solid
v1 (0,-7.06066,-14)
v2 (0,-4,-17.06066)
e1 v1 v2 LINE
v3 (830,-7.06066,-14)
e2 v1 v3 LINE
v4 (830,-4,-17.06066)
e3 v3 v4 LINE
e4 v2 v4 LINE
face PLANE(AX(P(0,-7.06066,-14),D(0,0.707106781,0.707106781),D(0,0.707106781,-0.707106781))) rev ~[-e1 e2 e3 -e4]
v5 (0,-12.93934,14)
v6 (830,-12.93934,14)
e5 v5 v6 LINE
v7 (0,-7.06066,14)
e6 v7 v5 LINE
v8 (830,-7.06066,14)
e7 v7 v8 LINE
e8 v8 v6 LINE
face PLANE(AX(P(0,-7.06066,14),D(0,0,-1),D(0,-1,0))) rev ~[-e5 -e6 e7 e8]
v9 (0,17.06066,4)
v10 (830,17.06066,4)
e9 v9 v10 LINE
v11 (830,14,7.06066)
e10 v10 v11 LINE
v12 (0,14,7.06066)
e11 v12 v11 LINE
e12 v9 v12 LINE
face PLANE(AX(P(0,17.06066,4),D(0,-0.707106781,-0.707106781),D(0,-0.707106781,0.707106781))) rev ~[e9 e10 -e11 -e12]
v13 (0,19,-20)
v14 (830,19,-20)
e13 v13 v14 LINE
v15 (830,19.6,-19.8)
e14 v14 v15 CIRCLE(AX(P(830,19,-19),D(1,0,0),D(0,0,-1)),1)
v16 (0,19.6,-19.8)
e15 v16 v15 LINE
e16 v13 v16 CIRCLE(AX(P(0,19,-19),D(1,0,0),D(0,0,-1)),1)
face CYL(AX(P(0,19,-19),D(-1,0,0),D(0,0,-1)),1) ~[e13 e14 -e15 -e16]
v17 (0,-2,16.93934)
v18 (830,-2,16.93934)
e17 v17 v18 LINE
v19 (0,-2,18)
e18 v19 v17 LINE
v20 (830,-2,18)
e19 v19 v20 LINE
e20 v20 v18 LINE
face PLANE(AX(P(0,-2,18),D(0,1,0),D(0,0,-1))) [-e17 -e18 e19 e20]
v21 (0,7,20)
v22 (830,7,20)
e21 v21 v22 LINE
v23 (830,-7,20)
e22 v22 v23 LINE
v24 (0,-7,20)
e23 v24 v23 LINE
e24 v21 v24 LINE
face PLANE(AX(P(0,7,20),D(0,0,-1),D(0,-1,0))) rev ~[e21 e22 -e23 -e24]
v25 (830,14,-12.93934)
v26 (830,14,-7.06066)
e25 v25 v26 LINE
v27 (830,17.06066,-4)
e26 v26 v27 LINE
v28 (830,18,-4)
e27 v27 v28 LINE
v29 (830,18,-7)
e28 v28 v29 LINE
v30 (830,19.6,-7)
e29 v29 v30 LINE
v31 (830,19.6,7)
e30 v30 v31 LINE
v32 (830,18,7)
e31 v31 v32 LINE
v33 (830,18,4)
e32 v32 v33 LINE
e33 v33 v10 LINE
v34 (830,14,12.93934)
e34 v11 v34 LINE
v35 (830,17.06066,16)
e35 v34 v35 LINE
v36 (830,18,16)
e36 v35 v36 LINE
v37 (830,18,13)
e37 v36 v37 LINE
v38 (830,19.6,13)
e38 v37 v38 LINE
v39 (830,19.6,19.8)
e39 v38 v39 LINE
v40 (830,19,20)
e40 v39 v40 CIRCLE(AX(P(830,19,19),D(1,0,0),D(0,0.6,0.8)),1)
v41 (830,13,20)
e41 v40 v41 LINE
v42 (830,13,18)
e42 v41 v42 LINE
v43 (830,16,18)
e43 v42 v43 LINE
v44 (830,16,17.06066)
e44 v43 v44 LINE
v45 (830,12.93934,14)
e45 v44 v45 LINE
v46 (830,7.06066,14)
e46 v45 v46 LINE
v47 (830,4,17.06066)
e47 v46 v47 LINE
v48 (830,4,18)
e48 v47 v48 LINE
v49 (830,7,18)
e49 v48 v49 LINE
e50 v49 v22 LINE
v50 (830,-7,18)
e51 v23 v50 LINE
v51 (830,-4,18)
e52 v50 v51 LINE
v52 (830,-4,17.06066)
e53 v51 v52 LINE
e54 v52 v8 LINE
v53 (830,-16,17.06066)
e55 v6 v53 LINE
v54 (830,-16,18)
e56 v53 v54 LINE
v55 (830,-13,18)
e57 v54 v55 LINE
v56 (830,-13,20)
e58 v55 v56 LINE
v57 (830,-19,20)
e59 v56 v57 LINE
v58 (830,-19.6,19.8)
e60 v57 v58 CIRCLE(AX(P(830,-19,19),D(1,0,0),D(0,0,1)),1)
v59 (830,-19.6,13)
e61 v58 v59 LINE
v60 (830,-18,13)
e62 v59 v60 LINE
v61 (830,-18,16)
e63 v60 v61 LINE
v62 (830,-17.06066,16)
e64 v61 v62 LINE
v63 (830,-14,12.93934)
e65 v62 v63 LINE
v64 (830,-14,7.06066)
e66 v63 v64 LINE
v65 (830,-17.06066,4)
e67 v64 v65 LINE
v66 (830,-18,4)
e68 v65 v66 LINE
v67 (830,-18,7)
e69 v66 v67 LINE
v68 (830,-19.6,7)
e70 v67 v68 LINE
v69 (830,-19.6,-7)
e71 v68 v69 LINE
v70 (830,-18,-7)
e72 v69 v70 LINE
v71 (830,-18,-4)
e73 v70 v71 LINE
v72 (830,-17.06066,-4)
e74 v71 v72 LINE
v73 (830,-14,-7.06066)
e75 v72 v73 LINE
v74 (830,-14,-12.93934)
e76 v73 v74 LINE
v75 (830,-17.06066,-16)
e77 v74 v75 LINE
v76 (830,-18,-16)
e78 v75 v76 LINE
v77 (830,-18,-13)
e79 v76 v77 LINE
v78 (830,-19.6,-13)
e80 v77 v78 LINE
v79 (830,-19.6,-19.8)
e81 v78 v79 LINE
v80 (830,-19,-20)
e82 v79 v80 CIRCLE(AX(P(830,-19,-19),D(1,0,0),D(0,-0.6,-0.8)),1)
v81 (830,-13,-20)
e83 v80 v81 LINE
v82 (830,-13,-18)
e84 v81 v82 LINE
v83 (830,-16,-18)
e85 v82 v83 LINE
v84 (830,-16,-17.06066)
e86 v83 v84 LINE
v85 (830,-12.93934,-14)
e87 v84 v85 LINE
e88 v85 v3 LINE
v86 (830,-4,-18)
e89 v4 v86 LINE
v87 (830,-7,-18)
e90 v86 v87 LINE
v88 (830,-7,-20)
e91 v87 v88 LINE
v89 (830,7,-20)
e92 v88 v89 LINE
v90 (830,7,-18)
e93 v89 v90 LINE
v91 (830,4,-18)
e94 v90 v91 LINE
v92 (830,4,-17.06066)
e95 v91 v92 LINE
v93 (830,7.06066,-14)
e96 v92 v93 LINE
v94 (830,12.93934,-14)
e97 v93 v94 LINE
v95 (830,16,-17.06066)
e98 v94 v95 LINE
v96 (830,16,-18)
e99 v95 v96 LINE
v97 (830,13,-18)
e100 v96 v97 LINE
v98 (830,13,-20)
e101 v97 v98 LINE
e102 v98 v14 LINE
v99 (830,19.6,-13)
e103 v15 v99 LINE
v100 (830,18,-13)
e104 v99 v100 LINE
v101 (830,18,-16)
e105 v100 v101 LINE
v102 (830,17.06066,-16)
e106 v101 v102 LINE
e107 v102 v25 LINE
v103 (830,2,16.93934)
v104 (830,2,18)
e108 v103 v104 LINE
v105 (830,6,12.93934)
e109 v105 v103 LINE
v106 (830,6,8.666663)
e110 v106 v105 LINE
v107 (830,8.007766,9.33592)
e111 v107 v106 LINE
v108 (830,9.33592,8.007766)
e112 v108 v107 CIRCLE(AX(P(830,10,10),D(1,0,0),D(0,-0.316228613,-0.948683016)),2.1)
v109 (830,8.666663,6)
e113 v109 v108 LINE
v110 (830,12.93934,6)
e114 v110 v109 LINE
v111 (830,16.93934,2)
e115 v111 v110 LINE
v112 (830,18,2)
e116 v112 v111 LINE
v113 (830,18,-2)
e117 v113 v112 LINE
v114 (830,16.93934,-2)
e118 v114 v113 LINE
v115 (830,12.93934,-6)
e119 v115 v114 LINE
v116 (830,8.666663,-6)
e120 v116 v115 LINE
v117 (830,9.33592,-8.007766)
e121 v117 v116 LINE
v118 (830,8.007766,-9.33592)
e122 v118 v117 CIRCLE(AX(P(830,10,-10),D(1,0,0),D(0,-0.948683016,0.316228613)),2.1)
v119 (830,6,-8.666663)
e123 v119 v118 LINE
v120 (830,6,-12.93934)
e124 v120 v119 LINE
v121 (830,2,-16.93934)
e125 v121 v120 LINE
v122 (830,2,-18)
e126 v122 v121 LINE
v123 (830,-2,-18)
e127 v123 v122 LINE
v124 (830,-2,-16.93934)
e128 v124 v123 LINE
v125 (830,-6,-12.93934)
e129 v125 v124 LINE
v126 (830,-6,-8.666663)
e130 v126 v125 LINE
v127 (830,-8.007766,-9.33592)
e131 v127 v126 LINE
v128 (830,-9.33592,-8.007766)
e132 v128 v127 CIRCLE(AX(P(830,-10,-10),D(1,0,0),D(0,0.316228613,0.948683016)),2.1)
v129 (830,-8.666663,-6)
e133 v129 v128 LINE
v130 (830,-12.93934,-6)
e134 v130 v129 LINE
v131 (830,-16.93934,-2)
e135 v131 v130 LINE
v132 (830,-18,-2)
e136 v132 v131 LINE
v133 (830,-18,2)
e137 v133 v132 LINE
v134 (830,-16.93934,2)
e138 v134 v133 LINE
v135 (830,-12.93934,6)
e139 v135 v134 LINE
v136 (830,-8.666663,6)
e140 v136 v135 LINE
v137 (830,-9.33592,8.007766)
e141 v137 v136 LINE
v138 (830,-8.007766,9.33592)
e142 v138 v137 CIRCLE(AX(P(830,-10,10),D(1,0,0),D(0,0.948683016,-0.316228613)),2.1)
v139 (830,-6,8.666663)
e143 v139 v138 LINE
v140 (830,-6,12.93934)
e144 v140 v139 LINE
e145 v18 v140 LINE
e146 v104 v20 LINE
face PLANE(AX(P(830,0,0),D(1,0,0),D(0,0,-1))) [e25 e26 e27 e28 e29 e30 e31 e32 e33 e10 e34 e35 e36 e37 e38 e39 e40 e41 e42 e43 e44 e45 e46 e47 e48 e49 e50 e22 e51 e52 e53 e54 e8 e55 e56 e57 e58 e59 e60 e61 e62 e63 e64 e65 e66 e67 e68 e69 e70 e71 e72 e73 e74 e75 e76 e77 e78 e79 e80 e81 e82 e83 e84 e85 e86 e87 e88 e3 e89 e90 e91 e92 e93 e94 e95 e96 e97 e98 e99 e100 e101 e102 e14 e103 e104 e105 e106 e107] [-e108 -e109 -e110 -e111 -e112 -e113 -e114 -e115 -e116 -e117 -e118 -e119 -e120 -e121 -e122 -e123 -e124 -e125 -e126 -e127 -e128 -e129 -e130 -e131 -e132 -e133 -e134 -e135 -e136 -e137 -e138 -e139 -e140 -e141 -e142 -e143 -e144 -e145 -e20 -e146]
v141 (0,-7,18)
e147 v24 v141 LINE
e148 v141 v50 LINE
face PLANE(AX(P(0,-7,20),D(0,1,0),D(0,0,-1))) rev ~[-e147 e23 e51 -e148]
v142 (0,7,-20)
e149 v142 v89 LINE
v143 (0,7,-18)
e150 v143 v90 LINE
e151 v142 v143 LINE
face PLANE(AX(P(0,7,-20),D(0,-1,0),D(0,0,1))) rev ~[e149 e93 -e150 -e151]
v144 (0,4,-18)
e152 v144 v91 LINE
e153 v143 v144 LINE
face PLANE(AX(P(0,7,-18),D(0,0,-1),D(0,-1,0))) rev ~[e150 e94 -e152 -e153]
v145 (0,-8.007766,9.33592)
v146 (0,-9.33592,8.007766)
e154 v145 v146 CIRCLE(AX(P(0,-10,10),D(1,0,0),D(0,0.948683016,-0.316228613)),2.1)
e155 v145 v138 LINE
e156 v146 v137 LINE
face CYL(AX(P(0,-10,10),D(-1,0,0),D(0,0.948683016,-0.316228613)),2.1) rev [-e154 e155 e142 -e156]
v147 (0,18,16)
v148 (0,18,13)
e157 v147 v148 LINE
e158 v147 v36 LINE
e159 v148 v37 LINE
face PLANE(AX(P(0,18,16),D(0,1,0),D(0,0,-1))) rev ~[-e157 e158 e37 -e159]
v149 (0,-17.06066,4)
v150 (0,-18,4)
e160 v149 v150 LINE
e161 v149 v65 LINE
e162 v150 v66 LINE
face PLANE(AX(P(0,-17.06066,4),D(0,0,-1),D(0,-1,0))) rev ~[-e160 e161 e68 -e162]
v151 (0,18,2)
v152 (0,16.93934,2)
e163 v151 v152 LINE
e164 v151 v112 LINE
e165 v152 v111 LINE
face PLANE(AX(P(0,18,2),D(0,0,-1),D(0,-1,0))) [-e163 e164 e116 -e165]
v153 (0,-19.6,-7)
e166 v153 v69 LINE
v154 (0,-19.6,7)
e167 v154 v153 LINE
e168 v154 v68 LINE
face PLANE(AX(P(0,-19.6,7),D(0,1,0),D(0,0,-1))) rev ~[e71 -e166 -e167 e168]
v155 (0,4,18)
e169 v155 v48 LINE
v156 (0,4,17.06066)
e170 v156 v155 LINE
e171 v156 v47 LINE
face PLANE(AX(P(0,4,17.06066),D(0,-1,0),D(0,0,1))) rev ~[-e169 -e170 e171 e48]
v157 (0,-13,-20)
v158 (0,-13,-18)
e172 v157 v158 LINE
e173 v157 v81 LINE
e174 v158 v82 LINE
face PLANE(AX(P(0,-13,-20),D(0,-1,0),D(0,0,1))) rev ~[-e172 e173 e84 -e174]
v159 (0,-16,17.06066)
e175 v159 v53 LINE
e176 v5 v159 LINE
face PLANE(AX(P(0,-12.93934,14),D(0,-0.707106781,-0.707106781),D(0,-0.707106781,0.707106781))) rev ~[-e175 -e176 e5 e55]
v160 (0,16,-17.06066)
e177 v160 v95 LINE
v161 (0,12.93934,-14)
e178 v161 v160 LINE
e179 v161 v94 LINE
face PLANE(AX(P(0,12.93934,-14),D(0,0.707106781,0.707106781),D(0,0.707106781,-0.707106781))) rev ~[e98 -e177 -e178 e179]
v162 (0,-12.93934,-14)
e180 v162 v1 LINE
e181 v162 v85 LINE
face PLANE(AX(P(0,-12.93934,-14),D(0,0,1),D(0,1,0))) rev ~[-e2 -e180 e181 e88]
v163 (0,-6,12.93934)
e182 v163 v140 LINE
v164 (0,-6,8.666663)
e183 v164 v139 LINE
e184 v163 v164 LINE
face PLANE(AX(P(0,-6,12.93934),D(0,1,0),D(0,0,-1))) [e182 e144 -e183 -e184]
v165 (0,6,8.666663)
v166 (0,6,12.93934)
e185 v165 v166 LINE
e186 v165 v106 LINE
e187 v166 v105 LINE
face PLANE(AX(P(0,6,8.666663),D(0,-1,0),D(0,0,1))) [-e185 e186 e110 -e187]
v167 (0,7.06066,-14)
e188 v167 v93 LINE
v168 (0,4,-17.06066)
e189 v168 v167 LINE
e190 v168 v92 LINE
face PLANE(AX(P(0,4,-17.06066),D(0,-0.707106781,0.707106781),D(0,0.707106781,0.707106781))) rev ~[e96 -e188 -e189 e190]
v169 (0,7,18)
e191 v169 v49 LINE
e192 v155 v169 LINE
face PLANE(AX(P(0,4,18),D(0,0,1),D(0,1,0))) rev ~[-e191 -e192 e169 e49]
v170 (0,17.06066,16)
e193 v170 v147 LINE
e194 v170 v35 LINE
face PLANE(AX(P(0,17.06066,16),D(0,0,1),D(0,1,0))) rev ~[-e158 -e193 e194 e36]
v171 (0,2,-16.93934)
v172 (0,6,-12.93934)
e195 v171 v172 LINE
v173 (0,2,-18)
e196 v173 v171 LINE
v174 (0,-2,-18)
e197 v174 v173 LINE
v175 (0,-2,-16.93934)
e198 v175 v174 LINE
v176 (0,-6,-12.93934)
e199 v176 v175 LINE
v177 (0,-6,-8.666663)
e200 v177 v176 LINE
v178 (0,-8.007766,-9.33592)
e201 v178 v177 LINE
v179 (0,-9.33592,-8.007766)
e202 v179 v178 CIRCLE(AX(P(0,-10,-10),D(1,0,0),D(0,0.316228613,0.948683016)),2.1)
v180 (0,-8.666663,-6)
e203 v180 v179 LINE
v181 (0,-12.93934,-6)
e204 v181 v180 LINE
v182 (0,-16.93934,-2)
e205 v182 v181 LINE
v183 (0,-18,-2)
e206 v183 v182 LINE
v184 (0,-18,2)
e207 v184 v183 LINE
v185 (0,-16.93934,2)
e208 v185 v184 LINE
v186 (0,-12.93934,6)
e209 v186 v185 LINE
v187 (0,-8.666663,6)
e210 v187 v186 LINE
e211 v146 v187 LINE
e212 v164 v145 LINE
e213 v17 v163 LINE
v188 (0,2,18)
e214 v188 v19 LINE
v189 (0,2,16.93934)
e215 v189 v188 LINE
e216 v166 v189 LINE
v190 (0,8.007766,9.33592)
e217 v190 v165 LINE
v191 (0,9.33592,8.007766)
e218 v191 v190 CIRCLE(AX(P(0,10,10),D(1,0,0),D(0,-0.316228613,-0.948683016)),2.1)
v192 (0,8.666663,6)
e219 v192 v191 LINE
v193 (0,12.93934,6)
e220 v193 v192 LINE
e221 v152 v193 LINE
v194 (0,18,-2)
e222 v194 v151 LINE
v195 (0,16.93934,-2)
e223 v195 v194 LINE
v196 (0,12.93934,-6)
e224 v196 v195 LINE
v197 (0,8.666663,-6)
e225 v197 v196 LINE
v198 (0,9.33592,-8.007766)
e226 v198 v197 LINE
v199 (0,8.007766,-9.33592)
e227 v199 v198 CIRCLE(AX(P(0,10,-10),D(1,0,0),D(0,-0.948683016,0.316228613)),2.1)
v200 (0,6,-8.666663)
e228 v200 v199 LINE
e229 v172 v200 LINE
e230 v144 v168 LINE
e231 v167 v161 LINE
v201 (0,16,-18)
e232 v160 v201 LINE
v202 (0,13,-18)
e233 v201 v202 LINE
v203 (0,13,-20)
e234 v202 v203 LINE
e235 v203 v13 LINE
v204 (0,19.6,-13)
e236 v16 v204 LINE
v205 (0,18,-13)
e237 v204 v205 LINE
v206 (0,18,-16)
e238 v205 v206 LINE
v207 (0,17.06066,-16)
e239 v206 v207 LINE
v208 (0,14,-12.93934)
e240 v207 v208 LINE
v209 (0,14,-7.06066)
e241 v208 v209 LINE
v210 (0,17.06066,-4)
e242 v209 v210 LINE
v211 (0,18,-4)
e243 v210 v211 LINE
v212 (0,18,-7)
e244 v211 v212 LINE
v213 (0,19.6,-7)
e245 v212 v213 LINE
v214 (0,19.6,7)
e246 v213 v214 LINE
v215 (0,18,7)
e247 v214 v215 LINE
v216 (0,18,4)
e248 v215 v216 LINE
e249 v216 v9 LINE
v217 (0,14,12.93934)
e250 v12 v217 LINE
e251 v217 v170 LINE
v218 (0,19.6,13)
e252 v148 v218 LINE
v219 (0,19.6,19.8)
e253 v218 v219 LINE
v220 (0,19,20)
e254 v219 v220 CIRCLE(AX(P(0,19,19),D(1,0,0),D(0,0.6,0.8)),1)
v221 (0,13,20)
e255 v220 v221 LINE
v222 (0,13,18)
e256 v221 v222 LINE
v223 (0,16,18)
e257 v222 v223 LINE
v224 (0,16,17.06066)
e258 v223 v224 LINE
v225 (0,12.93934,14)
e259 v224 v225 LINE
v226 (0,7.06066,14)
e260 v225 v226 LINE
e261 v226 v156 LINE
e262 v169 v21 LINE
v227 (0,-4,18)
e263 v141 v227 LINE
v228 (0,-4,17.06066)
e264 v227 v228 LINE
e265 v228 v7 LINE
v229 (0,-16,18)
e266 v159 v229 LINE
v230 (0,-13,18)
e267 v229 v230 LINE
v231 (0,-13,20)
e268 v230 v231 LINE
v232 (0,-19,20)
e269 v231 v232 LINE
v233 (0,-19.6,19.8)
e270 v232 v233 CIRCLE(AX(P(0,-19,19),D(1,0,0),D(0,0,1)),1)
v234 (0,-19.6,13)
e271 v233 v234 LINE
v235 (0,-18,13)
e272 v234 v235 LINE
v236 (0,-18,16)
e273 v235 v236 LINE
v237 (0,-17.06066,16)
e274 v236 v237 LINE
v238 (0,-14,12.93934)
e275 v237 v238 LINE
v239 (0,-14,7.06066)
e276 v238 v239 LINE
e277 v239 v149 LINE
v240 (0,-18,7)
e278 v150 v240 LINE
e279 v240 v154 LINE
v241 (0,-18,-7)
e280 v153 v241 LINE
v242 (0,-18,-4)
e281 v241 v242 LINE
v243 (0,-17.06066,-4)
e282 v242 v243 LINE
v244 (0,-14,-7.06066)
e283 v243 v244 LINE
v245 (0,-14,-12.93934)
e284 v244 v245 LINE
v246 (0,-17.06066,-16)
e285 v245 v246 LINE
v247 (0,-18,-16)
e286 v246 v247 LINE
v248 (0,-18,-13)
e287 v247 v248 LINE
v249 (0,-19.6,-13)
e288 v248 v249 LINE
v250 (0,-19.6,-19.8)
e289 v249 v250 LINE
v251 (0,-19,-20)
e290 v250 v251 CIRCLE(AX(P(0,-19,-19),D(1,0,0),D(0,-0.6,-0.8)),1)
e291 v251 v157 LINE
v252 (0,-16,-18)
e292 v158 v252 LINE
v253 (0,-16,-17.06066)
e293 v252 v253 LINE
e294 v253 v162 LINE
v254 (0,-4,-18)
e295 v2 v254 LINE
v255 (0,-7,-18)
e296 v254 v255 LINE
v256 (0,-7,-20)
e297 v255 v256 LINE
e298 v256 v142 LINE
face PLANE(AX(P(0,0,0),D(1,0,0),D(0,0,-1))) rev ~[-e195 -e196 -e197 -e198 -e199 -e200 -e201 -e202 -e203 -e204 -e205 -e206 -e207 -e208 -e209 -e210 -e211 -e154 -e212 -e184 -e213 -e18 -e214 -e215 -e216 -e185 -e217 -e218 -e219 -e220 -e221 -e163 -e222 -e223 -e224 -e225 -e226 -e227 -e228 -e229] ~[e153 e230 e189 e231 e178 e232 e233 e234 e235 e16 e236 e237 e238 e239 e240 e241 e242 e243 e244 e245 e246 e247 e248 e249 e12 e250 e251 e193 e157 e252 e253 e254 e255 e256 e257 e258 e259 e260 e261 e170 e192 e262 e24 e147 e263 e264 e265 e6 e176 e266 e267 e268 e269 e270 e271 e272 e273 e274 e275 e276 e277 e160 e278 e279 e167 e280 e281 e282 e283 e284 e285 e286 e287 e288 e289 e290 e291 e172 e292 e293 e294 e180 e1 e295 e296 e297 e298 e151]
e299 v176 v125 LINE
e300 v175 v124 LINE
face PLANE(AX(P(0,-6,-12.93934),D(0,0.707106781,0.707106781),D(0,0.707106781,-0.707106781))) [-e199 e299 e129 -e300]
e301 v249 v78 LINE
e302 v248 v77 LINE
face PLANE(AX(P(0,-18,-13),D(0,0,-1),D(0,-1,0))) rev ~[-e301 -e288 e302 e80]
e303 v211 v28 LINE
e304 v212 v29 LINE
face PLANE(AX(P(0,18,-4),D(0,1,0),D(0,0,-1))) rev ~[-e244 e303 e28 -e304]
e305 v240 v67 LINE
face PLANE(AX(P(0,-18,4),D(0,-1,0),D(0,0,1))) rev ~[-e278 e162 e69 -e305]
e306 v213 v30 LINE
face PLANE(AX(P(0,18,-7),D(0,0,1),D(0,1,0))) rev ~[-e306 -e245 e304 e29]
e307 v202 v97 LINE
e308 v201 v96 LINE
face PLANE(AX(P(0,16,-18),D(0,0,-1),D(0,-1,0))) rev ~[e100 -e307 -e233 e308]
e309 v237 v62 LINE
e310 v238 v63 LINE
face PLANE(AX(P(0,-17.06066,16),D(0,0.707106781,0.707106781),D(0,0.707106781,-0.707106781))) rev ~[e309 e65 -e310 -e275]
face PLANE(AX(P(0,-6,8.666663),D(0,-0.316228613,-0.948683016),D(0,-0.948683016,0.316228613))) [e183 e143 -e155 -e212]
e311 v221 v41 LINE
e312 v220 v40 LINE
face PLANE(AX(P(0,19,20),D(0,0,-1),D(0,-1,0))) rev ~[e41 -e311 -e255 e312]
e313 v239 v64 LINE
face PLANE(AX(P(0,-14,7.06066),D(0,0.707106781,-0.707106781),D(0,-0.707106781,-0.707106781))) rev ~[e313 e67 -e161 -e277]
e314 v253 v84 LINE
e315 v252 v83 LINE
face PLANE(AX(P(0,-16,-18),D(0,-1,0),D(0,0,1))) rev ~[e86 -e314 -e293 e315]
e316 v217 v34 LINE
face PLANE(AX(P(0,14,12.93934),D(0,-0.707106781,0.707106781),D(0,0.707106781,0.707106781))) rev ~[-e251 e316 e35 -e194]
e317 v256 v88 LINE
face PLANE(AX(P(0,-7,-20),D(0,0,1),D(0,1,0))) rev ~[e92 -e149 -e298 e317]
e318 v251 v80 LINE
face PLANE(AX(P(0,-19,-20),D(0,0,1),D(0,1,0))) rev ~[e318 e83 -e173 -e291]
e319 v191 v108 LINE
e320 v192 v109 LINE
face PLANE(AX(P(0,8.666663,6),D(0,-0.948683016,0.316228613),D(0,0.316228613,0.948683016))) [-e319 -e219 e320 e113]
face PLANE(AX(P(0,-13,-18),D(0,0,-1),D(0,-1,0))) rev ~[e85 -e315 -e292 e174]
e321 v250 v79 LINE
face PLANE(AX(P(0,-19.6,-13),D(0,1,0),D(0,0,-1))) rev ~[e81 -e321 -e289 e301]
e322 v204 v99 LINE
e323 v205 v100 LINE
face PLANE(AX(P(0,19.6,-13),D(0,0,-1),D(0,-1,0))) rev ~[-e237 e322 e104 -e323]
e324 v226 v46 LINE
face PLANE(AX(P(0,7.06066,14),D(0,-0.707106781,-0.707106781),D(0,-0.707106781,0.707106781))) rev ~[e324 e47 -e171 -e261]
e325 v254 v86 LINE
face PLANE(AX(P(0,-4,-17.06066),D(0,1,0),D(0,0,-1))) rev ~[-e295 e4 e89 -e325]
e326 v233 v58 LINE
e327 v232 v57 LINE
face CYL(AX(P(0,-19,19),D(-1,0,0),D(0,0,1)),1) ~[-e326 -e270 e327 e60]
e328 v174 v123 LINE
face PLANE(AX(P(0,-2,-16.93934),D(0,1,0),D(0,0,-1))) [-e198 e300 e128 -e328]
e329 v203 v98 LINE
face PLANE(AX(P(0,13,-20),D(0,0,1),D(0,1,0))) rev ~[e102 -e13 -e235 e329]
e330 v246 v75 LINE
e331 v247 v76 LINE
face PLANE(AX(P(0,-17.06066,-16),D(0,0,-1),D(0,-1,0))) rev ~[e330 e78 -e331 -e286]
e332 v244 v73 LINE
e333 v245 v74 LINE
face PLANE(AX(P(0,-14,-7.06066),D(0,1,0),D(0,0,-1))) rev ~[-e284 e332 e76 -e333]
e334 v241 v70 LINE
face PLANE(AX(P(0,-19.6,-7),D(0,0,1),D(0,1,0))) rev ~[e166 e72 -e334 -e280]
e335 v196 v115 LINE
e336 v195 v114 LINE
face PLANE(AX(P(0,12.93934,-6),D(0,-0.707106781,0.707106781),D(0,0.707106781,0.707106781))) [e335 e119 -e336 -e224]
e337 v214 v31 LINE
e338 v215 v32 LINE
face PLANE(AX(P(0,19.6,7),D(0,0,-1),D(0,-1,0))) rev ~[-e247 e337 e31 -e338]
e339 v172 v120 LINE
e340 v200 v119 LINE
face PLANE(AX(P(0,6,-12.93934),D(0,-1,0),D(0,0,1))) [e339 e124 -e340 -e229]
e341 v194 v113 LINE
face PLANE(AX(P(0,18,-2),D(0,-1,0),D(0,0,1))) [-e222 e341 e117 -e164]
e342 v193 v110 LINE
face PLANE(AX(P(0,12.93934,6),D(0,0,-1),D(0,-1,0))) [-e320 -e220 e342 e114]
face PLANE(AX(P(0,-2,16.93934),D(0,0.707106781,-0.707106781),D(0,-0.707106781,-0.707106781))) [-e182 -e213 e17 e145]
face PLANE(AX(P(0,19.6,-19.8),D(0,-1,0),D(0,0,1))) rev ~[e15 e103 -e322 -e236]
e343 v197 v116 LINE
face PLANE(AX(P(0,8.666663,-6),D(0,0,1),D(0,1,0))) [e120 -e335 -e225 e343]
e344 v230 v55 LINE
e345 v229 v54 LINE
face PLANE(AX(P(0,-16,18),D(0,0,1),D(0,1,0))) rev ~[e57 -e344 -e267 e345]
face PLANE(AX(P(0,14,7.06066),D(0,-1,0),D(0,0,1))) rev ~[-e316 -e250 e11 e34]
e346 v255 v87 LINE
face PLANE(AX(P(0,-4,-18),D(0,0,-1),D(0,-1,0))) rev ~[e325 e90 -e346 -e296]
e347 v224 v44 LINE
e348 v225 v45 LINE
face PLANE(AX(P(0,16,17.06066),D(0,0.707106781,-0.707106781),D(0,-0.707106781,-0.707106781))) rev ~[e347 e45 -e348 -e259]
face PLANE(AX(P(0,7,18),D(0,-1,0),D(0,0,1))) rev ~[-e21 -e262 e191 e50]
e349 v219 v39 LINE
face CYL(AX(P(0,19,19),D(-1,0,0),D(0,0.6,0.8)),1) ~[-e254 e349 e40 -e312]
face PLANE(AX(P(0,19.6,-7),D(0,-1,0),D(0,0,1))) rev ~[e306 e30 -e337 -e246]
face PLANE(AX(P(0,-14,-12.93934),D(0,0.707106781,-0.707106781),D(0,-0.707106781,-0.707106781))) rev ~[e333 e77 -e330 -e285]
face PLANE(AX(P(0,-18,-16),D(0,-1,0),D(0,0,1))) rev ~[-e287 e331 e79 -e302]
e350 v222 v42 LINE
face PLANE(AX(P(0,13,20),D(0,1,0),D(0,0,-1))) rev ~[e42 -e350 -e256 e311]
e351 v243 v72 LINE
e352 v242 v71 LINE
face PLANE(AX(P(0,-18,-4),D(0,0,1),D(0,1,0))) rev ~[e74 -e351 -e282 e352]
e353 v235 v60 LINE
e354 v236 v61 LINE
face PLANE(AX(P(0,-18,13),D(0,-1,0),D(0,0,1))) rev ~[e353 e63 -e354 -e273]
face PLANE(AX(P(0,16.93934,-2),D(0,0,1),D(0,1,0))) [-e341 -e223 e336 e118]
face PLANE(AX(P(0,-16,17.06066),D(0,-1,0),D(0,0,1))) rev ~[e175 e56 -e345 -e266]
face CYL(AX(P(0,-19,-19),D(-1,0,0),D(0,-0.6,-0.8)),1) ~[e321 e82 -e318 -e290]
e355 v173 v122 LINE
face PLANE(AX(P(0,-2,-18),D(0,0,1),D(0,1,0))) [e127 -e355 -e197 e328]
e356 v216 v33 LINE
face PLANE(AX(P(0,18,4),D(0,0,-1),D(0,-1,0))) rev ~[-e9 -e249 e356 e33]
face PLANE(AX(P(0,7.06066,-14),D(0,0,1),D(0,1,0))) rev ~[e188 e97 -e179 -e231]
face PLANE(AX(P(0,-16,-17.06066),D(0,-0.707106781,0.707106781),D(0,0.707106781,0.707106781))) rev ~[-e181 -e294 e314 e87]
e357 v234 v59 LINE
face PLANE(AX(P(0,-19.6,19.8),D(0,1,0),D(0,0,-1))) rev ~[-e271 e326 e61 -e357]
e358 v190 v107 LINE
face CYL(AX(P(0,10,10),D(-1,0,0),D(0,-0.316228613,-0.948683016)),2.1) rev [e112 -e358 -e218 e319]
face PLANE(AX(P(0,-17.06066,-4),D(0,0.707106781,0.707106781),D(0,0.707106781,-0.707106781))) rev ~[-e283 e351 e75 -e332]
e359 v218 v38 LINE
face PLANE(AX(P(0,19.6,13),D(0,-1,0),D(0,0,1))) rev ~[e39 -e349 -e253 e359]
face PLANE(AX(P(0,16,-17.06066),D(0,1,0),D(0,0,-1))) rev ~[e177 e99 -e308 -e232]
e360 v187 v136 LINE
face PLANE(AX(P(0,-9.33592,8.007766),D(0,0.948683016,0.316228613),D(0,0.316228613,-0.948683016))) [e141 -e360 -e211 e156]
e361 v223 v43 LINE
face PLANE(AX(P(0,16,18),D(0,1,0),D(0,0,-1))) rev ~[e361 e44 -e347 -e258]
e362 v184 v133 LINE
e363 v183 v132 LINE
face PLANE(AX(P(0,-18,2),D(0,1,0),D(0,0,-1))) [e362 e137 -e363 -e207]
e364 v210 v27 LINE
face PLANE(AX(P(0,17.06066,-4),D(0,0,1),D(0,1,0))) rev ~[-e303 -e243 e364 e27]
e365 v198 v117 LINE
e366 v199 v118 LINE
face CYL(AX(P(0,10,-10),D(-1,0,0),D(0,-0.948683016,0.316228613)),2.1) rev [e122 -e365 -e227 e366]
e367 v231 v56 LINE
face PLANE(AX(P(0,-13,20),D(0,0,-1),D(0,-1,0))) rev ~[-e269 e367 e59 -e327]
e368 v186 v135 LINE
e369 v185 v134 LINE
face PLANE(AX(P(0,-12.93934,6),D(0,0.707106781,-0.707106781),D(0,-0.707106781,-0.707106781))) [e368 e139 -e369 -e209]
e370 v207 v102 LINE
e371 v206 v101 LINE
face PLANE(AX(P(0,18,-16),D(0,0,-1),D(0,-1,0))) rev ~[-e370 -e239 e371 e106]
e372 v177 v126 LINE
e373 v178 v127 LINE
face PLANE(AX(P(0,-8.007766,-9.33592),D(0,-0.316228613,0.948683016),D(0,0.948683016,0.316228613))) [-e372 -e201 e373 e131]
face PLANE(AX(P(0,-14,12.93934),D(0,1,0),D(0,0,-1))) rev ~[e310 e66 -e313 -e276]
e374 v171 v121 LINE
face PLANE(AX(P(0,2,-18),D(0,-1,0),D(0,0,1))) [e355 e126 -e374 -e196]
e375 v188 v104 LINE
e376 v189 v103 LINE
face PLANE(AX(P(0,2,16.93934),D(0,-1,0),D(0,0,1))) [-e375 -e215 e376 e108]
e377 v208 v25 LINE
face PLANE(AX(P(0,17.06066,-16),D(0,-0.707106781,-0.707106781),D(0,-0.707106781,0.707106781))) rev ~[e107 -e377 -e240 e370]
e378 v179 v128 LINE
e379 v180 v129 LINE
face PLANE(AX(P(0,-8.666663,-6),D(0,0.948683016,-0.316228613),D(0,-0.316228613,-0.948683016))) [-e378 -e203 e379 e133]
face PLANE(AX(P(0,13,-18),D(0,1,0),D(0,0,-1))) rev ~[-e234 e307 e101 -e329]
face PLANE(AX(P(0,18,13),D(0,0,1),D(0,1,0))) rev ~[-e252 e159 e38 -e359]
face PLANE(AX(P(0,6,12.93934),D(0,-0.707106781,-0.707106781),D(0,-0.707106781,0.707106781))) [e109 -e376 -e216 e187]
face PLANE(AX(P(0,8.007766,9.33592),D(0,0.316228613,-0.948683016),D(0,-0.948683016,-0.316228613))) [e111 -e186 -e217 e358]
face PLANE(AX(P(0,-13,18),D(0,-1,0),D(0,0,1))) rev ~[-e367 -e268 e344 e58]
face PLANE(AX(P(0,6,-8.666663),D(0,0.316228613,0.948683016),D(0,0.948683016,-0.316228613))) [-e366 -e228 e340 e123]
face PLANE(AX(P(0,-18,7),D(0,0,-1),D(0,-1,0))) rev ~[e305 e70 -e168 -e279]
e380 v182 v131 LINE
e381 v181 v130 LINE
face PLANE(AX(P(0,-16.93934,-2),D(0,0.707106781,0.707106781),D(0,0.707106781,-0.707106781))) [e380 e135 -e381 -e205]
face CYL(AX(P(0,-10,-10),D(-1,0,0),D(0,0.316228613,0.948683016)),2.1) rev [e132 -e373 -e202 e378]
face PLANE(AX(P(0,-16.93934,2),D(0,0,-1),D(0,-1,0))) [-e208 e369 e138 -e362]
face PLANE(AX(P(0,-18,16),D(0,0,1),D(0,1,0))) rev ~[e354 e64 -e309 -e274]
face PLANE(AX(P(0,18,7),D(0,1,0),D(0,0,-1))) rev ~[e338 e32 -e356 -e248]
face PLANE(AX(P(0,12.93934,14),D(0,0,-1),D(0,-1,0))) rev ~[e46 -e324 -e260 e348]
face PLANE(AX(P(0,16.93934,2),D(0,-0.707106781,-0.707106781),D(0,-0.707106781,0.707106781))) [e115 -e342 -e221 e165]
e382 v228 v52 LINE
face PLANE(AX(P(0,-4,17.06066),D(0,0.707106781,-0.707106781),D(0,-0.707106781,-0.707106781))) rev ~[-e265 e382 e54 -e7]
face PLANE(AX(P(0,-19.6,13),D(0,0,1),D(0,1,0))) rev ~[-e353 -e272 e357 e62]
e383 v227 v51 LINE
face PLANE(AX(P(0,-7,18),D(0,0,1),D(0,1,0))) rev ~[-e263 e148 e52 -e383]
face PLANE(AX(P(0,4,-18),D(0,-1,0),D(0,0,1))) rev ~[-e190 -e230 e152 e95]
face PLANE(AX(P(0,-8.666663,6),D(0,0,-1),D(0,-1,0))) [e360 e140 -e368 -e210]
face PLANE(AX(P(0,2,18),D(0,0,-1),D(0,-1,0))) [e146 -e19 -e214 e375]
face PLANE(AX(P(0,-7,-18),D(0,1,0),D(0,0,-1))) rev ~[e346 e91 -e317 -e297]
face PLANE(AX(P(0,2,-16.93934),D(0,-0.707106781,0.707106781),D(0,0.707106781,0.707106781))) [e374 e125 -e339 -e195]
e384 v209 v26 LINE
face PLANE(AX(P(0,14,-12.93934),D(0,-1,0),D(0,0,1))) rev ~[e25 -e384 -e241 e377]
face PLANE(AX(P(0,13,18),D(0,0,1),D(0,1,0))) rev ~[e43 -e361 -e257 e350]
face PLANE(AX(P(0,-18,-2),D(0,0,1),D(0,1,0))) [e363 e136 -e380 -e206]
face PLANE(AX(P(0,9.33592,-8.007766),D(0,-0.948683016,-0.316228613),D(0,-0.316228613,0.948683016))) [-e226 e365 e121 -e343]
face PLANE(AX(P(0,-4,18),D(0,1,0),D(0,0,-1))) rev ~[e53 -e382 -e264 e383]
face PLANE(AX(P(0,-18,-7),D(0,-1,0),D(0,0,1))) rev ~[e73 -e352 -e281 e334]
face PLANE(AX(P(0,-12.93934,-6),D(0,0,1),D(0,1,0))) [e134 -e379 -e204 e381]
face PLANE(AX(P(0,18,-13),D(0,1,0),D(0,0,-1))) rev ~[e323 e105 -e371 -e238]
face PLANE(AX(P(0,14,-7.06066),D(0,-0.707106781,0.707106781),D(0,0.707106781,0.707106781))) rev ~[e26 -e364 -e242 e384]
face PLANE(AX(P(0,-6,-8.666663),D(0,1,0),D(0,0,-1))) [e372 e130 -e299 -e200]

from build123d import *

# Parameters (mm, degrees)
BOSS_EXTRUDE1_DEPTH = 830


with BuildPart() as part:
    # Sketch1 → Boss-Extrude1 (new body)
    with BuildSketch(Plane(origin=(0, 0, 0), x_dir=(0, 0, -1), z_dir=(1, 0, 0))):
        with BuildLine():
            Line((-20, 19), (-20, 13))
            Line((-20, 13), (-18, 13))
            Line((-18, 13), (-18, 16))
            Line((-18, 16), (-17.060660172, 16))
            Line((-17.060660172, 16), (-14, 12.939339828))
            Line((-14, 12.939339828), (-14, 7.060660172))
            Line((-14, 7.060660172), (-17.060660172, 4))
            Line((-17.060660172, 4), (-18, 4))
            Line((-18, 4), (-18, 7))
            Line((-18, 7), (-20, 7))
            Line((-20, 7), (-20, -7))
            Line((-20, -7), (-18, -7))
            Line((-18, -7), (-18, -4))
            Line((-18, -4), (-17.060660172, -4))
            Line((-17.060660172, -4), (-14, -7.060660172))
            Line((-14, -7.060660172), (-14, -12.939339828))
            Line((-14, -12.939339828), (-17.060660172, -16))
            Line((-17.060660172, -16), (-18, -16))
            Line((-18, -16), (-18, -13))
            Line((-18, -13), (-20, -13))
            Line((-20, -13), (-20, -19))
            ThreePointArc((-20, -19), (-19.948683298, -19.316227766), (-19.8, -19.6))
            Line((-19.8, -19.6), (-13, -19.6))
            Line((-13, -19.6), (-13, -18))
            Line((-13, -18), (-16, -18))
            Line((-16, -18), (-16, -17.060660172))
            Line((-16, -17.060660172), (-12.939339828, -14))
            Line((-12.939339828, -14), (-7.060660172, -14))
            Line((-7.060660172, -14), (-4, -17.060660172))
            Line((-4, -17.060660172), (-4, -18))
            Line((-4, -18), (-7, -18))
            Line((-7, -18), (-7, -19.6))
            Line((-7, -19.6), (7, -19.6))
            Line((7, -19.6), (7, -18))
            Line((7, -18), (4, -18))
            Line((4, -18), (4, -17.060660172))
            Line((4, -17.060660172), (7.060660172, -14))
            Line((7.060660172, -14), (12.939339828, -14))
            Line((12.939339828, -14), (16, -17.060660172))
            Line((16, -17.060660172), (16, -18))
            Line((16, -18), (13, -18))
            Line((13, -18), (13, -19.6))
            Line((13, -19.6), (19.8, -19.6))
            ThreePointArc((19.8, -19.6), (19.948683298, -19.316227766), (20, -19))
            Line((20, -19), (20, -13))
            Line((20, -13), (18, -13))
            Line((18, -13), (18, -16))
            Line((18, -16), (17.060660172, -16))
            Line((17.060660172, -16), (14, -12.939339828))
            Line((14, -12.939339828), (14, -7.060660172))
            Line((14, -7.060660172), (17.060660172, -4))
            Line((17.060660172, -4), (18, -4))
            Line((18, -4), (18, -7))
            Line((18, -7), (20, -7))
            Line((20, -7), (20, 7))
            Line((20, 7), (18, 7))
            Line((18, 7), (18, 4))
            Line((18, 4), (17.060660172, 4))
            Line((17.060660172, 4), (14, 7.060660172))
            Line((14, 7.060660172), (14, 12.939339828))
            Line((14, 12.939339828), (17.060660172, 16))
            Line((17.060660172, 16), (18, 16))
            Line((18, 16), (18, 13))
            Line((18, 13), (20, 13))
            Line((20, 13), (20, 19))
            ThreePointArc((20, 19), (19.948683298, 19.316227766), (19.8, 19.6))
            Line((19.8, 19.6), (13, 19.6))
            Line((13, 19.6), (13, 18))
            Line((13, 18), (16, 18))
            Line((16, 18), (16, 17.060660172))
            Line((16, 17.060660172), (12.939339828, 14))
            Line((12.939339828, 14), (7.060660172, 14))
            Line((7.060660172, 14), (4, 17.060660172))
            Line((4, 17.060660172), (4, 18))
            Line((4, 18), (7, 18))
            Line((7, 18), (7, 19.6))
            Line((7, 19.6), (-7, 19.6))
            Line((-7, 19.6), (-7, 18))
            Line((-7, 18), (-4, 18))
            Line((-4, 18), (-4, 17.060660172))
            Line((-4, 17.060660172), (-7.060660172, 14))
            Line((-7.060660172, 14), (-12.939339828, 14))
            Line((-12.939339828, 14), (-16, 17.060660172))
            Line((-16, 17.060660172), (-16, 18))
            Line((-16, 18), (-13, 18))
            Line((-13, 18), (-13, 19.6))
            Line((-13, 19.6), (-19.8, 19.6))
            ThreePointArc((-19.8, 19.6), (-19.948683298, 19.316227766), (-20, 19))
        make_face()
        with BuildLine():
            Line((-16.939339828, 2), (-18, 2))
            Line((-18, 2), (-18, -2))
            Line((-18, -2), (-16.939339828, -2))
            Line((-16.939339828, -2), (-12.939339828, -6))
            Line((-12.939339828, -6), (-8.666662697, -6))
            Line((-8.666662697, -6), (-9.335919912, -8.007765667))
            ThreePointArc((-9.335919912, -8.007765667), (-11.48492424, -11.48492424), (-8.007765667, -9.335919912))
            Line((-8.007765667, -9.335919912), (-6, -8.666662697))
            Line((-6, -8.666662697), (-6, -12.939339828))
            Line((-6, -12.939339828), (-2, -16.939339828))
            Line((-2, -16.939339828), (-2, -18))
            Line((-2, -18), (2, -18))
            Line((2, -18), (2, -16.939339828))
            Line((2, -16.939339828), (6, -12.939339828))
            Line((6, -12.939339828), (6, -8.666662697))
            Line((6, -8.666662697), (8.007765667, -9.335919912))
            ThreePointArc((8.007765667, -9.335919912), (11.48492424, -11.48492424), (9.335919912, -8.007765667))
            Line((9.335919912, -8.007765667), (8.666662697, -6))
            Line((8.666662697, -6), (12.939339828, -6))
            Line((12.939339828, -6), (16.939339828, -2))
            Line((16.939339828, -2), (18, -2))
            Line((18, -2), (18, 2))
            Line((18, 2), (16.939339828, 2))
            Line((16.939339828, 2), (12.939339828, 6))
            Line((12.939339828, 6), (8.666662697, 6))
            Line((8.666662697, 6), (9.335919912, 8.007765667))
            ThreePointArc((9.335919912, 8.007765667), (11.48492424, 11.48492424), (8.007765667, 9.335919912))
            Line((8.007765667, 9.335919912), (6, 8.666662697))
            Line((6, 8.666662697), (6, 12.939339828))
            Line((6, 12.939339828), (2, 16.939339828))
            Line((2, 16.939339828), (2, 18))
            Line((2, 18), (-2, 18))
            Line((-2, 18), (-2, 16.939339828))
            Line((-2, 16.939339828), (-6, 12.939339828))
            Line((-6, 12.939339828), (-6, 8.666662697))
            Line((-6, 8.666662697), (-8.007765667, 9.335919912))
            ThreePointArc((-8.007765667, 9.335919912), (-11.48492424, 11.48492424), (-9.335919912, 8.007765667))
            Line((-9.335919912, 8.007765667), (-8.666662697, 6))
            Line((-8.666662697, 6), (-12.939339828, 6))
            Line((-12.939339828, 6), (-16.939339828, 2))
        make_face(mode=Mode.SUBTRACT)
    extrude(amount=BOSS_EXTRUDE1_DEPTH)


solid = part.part
